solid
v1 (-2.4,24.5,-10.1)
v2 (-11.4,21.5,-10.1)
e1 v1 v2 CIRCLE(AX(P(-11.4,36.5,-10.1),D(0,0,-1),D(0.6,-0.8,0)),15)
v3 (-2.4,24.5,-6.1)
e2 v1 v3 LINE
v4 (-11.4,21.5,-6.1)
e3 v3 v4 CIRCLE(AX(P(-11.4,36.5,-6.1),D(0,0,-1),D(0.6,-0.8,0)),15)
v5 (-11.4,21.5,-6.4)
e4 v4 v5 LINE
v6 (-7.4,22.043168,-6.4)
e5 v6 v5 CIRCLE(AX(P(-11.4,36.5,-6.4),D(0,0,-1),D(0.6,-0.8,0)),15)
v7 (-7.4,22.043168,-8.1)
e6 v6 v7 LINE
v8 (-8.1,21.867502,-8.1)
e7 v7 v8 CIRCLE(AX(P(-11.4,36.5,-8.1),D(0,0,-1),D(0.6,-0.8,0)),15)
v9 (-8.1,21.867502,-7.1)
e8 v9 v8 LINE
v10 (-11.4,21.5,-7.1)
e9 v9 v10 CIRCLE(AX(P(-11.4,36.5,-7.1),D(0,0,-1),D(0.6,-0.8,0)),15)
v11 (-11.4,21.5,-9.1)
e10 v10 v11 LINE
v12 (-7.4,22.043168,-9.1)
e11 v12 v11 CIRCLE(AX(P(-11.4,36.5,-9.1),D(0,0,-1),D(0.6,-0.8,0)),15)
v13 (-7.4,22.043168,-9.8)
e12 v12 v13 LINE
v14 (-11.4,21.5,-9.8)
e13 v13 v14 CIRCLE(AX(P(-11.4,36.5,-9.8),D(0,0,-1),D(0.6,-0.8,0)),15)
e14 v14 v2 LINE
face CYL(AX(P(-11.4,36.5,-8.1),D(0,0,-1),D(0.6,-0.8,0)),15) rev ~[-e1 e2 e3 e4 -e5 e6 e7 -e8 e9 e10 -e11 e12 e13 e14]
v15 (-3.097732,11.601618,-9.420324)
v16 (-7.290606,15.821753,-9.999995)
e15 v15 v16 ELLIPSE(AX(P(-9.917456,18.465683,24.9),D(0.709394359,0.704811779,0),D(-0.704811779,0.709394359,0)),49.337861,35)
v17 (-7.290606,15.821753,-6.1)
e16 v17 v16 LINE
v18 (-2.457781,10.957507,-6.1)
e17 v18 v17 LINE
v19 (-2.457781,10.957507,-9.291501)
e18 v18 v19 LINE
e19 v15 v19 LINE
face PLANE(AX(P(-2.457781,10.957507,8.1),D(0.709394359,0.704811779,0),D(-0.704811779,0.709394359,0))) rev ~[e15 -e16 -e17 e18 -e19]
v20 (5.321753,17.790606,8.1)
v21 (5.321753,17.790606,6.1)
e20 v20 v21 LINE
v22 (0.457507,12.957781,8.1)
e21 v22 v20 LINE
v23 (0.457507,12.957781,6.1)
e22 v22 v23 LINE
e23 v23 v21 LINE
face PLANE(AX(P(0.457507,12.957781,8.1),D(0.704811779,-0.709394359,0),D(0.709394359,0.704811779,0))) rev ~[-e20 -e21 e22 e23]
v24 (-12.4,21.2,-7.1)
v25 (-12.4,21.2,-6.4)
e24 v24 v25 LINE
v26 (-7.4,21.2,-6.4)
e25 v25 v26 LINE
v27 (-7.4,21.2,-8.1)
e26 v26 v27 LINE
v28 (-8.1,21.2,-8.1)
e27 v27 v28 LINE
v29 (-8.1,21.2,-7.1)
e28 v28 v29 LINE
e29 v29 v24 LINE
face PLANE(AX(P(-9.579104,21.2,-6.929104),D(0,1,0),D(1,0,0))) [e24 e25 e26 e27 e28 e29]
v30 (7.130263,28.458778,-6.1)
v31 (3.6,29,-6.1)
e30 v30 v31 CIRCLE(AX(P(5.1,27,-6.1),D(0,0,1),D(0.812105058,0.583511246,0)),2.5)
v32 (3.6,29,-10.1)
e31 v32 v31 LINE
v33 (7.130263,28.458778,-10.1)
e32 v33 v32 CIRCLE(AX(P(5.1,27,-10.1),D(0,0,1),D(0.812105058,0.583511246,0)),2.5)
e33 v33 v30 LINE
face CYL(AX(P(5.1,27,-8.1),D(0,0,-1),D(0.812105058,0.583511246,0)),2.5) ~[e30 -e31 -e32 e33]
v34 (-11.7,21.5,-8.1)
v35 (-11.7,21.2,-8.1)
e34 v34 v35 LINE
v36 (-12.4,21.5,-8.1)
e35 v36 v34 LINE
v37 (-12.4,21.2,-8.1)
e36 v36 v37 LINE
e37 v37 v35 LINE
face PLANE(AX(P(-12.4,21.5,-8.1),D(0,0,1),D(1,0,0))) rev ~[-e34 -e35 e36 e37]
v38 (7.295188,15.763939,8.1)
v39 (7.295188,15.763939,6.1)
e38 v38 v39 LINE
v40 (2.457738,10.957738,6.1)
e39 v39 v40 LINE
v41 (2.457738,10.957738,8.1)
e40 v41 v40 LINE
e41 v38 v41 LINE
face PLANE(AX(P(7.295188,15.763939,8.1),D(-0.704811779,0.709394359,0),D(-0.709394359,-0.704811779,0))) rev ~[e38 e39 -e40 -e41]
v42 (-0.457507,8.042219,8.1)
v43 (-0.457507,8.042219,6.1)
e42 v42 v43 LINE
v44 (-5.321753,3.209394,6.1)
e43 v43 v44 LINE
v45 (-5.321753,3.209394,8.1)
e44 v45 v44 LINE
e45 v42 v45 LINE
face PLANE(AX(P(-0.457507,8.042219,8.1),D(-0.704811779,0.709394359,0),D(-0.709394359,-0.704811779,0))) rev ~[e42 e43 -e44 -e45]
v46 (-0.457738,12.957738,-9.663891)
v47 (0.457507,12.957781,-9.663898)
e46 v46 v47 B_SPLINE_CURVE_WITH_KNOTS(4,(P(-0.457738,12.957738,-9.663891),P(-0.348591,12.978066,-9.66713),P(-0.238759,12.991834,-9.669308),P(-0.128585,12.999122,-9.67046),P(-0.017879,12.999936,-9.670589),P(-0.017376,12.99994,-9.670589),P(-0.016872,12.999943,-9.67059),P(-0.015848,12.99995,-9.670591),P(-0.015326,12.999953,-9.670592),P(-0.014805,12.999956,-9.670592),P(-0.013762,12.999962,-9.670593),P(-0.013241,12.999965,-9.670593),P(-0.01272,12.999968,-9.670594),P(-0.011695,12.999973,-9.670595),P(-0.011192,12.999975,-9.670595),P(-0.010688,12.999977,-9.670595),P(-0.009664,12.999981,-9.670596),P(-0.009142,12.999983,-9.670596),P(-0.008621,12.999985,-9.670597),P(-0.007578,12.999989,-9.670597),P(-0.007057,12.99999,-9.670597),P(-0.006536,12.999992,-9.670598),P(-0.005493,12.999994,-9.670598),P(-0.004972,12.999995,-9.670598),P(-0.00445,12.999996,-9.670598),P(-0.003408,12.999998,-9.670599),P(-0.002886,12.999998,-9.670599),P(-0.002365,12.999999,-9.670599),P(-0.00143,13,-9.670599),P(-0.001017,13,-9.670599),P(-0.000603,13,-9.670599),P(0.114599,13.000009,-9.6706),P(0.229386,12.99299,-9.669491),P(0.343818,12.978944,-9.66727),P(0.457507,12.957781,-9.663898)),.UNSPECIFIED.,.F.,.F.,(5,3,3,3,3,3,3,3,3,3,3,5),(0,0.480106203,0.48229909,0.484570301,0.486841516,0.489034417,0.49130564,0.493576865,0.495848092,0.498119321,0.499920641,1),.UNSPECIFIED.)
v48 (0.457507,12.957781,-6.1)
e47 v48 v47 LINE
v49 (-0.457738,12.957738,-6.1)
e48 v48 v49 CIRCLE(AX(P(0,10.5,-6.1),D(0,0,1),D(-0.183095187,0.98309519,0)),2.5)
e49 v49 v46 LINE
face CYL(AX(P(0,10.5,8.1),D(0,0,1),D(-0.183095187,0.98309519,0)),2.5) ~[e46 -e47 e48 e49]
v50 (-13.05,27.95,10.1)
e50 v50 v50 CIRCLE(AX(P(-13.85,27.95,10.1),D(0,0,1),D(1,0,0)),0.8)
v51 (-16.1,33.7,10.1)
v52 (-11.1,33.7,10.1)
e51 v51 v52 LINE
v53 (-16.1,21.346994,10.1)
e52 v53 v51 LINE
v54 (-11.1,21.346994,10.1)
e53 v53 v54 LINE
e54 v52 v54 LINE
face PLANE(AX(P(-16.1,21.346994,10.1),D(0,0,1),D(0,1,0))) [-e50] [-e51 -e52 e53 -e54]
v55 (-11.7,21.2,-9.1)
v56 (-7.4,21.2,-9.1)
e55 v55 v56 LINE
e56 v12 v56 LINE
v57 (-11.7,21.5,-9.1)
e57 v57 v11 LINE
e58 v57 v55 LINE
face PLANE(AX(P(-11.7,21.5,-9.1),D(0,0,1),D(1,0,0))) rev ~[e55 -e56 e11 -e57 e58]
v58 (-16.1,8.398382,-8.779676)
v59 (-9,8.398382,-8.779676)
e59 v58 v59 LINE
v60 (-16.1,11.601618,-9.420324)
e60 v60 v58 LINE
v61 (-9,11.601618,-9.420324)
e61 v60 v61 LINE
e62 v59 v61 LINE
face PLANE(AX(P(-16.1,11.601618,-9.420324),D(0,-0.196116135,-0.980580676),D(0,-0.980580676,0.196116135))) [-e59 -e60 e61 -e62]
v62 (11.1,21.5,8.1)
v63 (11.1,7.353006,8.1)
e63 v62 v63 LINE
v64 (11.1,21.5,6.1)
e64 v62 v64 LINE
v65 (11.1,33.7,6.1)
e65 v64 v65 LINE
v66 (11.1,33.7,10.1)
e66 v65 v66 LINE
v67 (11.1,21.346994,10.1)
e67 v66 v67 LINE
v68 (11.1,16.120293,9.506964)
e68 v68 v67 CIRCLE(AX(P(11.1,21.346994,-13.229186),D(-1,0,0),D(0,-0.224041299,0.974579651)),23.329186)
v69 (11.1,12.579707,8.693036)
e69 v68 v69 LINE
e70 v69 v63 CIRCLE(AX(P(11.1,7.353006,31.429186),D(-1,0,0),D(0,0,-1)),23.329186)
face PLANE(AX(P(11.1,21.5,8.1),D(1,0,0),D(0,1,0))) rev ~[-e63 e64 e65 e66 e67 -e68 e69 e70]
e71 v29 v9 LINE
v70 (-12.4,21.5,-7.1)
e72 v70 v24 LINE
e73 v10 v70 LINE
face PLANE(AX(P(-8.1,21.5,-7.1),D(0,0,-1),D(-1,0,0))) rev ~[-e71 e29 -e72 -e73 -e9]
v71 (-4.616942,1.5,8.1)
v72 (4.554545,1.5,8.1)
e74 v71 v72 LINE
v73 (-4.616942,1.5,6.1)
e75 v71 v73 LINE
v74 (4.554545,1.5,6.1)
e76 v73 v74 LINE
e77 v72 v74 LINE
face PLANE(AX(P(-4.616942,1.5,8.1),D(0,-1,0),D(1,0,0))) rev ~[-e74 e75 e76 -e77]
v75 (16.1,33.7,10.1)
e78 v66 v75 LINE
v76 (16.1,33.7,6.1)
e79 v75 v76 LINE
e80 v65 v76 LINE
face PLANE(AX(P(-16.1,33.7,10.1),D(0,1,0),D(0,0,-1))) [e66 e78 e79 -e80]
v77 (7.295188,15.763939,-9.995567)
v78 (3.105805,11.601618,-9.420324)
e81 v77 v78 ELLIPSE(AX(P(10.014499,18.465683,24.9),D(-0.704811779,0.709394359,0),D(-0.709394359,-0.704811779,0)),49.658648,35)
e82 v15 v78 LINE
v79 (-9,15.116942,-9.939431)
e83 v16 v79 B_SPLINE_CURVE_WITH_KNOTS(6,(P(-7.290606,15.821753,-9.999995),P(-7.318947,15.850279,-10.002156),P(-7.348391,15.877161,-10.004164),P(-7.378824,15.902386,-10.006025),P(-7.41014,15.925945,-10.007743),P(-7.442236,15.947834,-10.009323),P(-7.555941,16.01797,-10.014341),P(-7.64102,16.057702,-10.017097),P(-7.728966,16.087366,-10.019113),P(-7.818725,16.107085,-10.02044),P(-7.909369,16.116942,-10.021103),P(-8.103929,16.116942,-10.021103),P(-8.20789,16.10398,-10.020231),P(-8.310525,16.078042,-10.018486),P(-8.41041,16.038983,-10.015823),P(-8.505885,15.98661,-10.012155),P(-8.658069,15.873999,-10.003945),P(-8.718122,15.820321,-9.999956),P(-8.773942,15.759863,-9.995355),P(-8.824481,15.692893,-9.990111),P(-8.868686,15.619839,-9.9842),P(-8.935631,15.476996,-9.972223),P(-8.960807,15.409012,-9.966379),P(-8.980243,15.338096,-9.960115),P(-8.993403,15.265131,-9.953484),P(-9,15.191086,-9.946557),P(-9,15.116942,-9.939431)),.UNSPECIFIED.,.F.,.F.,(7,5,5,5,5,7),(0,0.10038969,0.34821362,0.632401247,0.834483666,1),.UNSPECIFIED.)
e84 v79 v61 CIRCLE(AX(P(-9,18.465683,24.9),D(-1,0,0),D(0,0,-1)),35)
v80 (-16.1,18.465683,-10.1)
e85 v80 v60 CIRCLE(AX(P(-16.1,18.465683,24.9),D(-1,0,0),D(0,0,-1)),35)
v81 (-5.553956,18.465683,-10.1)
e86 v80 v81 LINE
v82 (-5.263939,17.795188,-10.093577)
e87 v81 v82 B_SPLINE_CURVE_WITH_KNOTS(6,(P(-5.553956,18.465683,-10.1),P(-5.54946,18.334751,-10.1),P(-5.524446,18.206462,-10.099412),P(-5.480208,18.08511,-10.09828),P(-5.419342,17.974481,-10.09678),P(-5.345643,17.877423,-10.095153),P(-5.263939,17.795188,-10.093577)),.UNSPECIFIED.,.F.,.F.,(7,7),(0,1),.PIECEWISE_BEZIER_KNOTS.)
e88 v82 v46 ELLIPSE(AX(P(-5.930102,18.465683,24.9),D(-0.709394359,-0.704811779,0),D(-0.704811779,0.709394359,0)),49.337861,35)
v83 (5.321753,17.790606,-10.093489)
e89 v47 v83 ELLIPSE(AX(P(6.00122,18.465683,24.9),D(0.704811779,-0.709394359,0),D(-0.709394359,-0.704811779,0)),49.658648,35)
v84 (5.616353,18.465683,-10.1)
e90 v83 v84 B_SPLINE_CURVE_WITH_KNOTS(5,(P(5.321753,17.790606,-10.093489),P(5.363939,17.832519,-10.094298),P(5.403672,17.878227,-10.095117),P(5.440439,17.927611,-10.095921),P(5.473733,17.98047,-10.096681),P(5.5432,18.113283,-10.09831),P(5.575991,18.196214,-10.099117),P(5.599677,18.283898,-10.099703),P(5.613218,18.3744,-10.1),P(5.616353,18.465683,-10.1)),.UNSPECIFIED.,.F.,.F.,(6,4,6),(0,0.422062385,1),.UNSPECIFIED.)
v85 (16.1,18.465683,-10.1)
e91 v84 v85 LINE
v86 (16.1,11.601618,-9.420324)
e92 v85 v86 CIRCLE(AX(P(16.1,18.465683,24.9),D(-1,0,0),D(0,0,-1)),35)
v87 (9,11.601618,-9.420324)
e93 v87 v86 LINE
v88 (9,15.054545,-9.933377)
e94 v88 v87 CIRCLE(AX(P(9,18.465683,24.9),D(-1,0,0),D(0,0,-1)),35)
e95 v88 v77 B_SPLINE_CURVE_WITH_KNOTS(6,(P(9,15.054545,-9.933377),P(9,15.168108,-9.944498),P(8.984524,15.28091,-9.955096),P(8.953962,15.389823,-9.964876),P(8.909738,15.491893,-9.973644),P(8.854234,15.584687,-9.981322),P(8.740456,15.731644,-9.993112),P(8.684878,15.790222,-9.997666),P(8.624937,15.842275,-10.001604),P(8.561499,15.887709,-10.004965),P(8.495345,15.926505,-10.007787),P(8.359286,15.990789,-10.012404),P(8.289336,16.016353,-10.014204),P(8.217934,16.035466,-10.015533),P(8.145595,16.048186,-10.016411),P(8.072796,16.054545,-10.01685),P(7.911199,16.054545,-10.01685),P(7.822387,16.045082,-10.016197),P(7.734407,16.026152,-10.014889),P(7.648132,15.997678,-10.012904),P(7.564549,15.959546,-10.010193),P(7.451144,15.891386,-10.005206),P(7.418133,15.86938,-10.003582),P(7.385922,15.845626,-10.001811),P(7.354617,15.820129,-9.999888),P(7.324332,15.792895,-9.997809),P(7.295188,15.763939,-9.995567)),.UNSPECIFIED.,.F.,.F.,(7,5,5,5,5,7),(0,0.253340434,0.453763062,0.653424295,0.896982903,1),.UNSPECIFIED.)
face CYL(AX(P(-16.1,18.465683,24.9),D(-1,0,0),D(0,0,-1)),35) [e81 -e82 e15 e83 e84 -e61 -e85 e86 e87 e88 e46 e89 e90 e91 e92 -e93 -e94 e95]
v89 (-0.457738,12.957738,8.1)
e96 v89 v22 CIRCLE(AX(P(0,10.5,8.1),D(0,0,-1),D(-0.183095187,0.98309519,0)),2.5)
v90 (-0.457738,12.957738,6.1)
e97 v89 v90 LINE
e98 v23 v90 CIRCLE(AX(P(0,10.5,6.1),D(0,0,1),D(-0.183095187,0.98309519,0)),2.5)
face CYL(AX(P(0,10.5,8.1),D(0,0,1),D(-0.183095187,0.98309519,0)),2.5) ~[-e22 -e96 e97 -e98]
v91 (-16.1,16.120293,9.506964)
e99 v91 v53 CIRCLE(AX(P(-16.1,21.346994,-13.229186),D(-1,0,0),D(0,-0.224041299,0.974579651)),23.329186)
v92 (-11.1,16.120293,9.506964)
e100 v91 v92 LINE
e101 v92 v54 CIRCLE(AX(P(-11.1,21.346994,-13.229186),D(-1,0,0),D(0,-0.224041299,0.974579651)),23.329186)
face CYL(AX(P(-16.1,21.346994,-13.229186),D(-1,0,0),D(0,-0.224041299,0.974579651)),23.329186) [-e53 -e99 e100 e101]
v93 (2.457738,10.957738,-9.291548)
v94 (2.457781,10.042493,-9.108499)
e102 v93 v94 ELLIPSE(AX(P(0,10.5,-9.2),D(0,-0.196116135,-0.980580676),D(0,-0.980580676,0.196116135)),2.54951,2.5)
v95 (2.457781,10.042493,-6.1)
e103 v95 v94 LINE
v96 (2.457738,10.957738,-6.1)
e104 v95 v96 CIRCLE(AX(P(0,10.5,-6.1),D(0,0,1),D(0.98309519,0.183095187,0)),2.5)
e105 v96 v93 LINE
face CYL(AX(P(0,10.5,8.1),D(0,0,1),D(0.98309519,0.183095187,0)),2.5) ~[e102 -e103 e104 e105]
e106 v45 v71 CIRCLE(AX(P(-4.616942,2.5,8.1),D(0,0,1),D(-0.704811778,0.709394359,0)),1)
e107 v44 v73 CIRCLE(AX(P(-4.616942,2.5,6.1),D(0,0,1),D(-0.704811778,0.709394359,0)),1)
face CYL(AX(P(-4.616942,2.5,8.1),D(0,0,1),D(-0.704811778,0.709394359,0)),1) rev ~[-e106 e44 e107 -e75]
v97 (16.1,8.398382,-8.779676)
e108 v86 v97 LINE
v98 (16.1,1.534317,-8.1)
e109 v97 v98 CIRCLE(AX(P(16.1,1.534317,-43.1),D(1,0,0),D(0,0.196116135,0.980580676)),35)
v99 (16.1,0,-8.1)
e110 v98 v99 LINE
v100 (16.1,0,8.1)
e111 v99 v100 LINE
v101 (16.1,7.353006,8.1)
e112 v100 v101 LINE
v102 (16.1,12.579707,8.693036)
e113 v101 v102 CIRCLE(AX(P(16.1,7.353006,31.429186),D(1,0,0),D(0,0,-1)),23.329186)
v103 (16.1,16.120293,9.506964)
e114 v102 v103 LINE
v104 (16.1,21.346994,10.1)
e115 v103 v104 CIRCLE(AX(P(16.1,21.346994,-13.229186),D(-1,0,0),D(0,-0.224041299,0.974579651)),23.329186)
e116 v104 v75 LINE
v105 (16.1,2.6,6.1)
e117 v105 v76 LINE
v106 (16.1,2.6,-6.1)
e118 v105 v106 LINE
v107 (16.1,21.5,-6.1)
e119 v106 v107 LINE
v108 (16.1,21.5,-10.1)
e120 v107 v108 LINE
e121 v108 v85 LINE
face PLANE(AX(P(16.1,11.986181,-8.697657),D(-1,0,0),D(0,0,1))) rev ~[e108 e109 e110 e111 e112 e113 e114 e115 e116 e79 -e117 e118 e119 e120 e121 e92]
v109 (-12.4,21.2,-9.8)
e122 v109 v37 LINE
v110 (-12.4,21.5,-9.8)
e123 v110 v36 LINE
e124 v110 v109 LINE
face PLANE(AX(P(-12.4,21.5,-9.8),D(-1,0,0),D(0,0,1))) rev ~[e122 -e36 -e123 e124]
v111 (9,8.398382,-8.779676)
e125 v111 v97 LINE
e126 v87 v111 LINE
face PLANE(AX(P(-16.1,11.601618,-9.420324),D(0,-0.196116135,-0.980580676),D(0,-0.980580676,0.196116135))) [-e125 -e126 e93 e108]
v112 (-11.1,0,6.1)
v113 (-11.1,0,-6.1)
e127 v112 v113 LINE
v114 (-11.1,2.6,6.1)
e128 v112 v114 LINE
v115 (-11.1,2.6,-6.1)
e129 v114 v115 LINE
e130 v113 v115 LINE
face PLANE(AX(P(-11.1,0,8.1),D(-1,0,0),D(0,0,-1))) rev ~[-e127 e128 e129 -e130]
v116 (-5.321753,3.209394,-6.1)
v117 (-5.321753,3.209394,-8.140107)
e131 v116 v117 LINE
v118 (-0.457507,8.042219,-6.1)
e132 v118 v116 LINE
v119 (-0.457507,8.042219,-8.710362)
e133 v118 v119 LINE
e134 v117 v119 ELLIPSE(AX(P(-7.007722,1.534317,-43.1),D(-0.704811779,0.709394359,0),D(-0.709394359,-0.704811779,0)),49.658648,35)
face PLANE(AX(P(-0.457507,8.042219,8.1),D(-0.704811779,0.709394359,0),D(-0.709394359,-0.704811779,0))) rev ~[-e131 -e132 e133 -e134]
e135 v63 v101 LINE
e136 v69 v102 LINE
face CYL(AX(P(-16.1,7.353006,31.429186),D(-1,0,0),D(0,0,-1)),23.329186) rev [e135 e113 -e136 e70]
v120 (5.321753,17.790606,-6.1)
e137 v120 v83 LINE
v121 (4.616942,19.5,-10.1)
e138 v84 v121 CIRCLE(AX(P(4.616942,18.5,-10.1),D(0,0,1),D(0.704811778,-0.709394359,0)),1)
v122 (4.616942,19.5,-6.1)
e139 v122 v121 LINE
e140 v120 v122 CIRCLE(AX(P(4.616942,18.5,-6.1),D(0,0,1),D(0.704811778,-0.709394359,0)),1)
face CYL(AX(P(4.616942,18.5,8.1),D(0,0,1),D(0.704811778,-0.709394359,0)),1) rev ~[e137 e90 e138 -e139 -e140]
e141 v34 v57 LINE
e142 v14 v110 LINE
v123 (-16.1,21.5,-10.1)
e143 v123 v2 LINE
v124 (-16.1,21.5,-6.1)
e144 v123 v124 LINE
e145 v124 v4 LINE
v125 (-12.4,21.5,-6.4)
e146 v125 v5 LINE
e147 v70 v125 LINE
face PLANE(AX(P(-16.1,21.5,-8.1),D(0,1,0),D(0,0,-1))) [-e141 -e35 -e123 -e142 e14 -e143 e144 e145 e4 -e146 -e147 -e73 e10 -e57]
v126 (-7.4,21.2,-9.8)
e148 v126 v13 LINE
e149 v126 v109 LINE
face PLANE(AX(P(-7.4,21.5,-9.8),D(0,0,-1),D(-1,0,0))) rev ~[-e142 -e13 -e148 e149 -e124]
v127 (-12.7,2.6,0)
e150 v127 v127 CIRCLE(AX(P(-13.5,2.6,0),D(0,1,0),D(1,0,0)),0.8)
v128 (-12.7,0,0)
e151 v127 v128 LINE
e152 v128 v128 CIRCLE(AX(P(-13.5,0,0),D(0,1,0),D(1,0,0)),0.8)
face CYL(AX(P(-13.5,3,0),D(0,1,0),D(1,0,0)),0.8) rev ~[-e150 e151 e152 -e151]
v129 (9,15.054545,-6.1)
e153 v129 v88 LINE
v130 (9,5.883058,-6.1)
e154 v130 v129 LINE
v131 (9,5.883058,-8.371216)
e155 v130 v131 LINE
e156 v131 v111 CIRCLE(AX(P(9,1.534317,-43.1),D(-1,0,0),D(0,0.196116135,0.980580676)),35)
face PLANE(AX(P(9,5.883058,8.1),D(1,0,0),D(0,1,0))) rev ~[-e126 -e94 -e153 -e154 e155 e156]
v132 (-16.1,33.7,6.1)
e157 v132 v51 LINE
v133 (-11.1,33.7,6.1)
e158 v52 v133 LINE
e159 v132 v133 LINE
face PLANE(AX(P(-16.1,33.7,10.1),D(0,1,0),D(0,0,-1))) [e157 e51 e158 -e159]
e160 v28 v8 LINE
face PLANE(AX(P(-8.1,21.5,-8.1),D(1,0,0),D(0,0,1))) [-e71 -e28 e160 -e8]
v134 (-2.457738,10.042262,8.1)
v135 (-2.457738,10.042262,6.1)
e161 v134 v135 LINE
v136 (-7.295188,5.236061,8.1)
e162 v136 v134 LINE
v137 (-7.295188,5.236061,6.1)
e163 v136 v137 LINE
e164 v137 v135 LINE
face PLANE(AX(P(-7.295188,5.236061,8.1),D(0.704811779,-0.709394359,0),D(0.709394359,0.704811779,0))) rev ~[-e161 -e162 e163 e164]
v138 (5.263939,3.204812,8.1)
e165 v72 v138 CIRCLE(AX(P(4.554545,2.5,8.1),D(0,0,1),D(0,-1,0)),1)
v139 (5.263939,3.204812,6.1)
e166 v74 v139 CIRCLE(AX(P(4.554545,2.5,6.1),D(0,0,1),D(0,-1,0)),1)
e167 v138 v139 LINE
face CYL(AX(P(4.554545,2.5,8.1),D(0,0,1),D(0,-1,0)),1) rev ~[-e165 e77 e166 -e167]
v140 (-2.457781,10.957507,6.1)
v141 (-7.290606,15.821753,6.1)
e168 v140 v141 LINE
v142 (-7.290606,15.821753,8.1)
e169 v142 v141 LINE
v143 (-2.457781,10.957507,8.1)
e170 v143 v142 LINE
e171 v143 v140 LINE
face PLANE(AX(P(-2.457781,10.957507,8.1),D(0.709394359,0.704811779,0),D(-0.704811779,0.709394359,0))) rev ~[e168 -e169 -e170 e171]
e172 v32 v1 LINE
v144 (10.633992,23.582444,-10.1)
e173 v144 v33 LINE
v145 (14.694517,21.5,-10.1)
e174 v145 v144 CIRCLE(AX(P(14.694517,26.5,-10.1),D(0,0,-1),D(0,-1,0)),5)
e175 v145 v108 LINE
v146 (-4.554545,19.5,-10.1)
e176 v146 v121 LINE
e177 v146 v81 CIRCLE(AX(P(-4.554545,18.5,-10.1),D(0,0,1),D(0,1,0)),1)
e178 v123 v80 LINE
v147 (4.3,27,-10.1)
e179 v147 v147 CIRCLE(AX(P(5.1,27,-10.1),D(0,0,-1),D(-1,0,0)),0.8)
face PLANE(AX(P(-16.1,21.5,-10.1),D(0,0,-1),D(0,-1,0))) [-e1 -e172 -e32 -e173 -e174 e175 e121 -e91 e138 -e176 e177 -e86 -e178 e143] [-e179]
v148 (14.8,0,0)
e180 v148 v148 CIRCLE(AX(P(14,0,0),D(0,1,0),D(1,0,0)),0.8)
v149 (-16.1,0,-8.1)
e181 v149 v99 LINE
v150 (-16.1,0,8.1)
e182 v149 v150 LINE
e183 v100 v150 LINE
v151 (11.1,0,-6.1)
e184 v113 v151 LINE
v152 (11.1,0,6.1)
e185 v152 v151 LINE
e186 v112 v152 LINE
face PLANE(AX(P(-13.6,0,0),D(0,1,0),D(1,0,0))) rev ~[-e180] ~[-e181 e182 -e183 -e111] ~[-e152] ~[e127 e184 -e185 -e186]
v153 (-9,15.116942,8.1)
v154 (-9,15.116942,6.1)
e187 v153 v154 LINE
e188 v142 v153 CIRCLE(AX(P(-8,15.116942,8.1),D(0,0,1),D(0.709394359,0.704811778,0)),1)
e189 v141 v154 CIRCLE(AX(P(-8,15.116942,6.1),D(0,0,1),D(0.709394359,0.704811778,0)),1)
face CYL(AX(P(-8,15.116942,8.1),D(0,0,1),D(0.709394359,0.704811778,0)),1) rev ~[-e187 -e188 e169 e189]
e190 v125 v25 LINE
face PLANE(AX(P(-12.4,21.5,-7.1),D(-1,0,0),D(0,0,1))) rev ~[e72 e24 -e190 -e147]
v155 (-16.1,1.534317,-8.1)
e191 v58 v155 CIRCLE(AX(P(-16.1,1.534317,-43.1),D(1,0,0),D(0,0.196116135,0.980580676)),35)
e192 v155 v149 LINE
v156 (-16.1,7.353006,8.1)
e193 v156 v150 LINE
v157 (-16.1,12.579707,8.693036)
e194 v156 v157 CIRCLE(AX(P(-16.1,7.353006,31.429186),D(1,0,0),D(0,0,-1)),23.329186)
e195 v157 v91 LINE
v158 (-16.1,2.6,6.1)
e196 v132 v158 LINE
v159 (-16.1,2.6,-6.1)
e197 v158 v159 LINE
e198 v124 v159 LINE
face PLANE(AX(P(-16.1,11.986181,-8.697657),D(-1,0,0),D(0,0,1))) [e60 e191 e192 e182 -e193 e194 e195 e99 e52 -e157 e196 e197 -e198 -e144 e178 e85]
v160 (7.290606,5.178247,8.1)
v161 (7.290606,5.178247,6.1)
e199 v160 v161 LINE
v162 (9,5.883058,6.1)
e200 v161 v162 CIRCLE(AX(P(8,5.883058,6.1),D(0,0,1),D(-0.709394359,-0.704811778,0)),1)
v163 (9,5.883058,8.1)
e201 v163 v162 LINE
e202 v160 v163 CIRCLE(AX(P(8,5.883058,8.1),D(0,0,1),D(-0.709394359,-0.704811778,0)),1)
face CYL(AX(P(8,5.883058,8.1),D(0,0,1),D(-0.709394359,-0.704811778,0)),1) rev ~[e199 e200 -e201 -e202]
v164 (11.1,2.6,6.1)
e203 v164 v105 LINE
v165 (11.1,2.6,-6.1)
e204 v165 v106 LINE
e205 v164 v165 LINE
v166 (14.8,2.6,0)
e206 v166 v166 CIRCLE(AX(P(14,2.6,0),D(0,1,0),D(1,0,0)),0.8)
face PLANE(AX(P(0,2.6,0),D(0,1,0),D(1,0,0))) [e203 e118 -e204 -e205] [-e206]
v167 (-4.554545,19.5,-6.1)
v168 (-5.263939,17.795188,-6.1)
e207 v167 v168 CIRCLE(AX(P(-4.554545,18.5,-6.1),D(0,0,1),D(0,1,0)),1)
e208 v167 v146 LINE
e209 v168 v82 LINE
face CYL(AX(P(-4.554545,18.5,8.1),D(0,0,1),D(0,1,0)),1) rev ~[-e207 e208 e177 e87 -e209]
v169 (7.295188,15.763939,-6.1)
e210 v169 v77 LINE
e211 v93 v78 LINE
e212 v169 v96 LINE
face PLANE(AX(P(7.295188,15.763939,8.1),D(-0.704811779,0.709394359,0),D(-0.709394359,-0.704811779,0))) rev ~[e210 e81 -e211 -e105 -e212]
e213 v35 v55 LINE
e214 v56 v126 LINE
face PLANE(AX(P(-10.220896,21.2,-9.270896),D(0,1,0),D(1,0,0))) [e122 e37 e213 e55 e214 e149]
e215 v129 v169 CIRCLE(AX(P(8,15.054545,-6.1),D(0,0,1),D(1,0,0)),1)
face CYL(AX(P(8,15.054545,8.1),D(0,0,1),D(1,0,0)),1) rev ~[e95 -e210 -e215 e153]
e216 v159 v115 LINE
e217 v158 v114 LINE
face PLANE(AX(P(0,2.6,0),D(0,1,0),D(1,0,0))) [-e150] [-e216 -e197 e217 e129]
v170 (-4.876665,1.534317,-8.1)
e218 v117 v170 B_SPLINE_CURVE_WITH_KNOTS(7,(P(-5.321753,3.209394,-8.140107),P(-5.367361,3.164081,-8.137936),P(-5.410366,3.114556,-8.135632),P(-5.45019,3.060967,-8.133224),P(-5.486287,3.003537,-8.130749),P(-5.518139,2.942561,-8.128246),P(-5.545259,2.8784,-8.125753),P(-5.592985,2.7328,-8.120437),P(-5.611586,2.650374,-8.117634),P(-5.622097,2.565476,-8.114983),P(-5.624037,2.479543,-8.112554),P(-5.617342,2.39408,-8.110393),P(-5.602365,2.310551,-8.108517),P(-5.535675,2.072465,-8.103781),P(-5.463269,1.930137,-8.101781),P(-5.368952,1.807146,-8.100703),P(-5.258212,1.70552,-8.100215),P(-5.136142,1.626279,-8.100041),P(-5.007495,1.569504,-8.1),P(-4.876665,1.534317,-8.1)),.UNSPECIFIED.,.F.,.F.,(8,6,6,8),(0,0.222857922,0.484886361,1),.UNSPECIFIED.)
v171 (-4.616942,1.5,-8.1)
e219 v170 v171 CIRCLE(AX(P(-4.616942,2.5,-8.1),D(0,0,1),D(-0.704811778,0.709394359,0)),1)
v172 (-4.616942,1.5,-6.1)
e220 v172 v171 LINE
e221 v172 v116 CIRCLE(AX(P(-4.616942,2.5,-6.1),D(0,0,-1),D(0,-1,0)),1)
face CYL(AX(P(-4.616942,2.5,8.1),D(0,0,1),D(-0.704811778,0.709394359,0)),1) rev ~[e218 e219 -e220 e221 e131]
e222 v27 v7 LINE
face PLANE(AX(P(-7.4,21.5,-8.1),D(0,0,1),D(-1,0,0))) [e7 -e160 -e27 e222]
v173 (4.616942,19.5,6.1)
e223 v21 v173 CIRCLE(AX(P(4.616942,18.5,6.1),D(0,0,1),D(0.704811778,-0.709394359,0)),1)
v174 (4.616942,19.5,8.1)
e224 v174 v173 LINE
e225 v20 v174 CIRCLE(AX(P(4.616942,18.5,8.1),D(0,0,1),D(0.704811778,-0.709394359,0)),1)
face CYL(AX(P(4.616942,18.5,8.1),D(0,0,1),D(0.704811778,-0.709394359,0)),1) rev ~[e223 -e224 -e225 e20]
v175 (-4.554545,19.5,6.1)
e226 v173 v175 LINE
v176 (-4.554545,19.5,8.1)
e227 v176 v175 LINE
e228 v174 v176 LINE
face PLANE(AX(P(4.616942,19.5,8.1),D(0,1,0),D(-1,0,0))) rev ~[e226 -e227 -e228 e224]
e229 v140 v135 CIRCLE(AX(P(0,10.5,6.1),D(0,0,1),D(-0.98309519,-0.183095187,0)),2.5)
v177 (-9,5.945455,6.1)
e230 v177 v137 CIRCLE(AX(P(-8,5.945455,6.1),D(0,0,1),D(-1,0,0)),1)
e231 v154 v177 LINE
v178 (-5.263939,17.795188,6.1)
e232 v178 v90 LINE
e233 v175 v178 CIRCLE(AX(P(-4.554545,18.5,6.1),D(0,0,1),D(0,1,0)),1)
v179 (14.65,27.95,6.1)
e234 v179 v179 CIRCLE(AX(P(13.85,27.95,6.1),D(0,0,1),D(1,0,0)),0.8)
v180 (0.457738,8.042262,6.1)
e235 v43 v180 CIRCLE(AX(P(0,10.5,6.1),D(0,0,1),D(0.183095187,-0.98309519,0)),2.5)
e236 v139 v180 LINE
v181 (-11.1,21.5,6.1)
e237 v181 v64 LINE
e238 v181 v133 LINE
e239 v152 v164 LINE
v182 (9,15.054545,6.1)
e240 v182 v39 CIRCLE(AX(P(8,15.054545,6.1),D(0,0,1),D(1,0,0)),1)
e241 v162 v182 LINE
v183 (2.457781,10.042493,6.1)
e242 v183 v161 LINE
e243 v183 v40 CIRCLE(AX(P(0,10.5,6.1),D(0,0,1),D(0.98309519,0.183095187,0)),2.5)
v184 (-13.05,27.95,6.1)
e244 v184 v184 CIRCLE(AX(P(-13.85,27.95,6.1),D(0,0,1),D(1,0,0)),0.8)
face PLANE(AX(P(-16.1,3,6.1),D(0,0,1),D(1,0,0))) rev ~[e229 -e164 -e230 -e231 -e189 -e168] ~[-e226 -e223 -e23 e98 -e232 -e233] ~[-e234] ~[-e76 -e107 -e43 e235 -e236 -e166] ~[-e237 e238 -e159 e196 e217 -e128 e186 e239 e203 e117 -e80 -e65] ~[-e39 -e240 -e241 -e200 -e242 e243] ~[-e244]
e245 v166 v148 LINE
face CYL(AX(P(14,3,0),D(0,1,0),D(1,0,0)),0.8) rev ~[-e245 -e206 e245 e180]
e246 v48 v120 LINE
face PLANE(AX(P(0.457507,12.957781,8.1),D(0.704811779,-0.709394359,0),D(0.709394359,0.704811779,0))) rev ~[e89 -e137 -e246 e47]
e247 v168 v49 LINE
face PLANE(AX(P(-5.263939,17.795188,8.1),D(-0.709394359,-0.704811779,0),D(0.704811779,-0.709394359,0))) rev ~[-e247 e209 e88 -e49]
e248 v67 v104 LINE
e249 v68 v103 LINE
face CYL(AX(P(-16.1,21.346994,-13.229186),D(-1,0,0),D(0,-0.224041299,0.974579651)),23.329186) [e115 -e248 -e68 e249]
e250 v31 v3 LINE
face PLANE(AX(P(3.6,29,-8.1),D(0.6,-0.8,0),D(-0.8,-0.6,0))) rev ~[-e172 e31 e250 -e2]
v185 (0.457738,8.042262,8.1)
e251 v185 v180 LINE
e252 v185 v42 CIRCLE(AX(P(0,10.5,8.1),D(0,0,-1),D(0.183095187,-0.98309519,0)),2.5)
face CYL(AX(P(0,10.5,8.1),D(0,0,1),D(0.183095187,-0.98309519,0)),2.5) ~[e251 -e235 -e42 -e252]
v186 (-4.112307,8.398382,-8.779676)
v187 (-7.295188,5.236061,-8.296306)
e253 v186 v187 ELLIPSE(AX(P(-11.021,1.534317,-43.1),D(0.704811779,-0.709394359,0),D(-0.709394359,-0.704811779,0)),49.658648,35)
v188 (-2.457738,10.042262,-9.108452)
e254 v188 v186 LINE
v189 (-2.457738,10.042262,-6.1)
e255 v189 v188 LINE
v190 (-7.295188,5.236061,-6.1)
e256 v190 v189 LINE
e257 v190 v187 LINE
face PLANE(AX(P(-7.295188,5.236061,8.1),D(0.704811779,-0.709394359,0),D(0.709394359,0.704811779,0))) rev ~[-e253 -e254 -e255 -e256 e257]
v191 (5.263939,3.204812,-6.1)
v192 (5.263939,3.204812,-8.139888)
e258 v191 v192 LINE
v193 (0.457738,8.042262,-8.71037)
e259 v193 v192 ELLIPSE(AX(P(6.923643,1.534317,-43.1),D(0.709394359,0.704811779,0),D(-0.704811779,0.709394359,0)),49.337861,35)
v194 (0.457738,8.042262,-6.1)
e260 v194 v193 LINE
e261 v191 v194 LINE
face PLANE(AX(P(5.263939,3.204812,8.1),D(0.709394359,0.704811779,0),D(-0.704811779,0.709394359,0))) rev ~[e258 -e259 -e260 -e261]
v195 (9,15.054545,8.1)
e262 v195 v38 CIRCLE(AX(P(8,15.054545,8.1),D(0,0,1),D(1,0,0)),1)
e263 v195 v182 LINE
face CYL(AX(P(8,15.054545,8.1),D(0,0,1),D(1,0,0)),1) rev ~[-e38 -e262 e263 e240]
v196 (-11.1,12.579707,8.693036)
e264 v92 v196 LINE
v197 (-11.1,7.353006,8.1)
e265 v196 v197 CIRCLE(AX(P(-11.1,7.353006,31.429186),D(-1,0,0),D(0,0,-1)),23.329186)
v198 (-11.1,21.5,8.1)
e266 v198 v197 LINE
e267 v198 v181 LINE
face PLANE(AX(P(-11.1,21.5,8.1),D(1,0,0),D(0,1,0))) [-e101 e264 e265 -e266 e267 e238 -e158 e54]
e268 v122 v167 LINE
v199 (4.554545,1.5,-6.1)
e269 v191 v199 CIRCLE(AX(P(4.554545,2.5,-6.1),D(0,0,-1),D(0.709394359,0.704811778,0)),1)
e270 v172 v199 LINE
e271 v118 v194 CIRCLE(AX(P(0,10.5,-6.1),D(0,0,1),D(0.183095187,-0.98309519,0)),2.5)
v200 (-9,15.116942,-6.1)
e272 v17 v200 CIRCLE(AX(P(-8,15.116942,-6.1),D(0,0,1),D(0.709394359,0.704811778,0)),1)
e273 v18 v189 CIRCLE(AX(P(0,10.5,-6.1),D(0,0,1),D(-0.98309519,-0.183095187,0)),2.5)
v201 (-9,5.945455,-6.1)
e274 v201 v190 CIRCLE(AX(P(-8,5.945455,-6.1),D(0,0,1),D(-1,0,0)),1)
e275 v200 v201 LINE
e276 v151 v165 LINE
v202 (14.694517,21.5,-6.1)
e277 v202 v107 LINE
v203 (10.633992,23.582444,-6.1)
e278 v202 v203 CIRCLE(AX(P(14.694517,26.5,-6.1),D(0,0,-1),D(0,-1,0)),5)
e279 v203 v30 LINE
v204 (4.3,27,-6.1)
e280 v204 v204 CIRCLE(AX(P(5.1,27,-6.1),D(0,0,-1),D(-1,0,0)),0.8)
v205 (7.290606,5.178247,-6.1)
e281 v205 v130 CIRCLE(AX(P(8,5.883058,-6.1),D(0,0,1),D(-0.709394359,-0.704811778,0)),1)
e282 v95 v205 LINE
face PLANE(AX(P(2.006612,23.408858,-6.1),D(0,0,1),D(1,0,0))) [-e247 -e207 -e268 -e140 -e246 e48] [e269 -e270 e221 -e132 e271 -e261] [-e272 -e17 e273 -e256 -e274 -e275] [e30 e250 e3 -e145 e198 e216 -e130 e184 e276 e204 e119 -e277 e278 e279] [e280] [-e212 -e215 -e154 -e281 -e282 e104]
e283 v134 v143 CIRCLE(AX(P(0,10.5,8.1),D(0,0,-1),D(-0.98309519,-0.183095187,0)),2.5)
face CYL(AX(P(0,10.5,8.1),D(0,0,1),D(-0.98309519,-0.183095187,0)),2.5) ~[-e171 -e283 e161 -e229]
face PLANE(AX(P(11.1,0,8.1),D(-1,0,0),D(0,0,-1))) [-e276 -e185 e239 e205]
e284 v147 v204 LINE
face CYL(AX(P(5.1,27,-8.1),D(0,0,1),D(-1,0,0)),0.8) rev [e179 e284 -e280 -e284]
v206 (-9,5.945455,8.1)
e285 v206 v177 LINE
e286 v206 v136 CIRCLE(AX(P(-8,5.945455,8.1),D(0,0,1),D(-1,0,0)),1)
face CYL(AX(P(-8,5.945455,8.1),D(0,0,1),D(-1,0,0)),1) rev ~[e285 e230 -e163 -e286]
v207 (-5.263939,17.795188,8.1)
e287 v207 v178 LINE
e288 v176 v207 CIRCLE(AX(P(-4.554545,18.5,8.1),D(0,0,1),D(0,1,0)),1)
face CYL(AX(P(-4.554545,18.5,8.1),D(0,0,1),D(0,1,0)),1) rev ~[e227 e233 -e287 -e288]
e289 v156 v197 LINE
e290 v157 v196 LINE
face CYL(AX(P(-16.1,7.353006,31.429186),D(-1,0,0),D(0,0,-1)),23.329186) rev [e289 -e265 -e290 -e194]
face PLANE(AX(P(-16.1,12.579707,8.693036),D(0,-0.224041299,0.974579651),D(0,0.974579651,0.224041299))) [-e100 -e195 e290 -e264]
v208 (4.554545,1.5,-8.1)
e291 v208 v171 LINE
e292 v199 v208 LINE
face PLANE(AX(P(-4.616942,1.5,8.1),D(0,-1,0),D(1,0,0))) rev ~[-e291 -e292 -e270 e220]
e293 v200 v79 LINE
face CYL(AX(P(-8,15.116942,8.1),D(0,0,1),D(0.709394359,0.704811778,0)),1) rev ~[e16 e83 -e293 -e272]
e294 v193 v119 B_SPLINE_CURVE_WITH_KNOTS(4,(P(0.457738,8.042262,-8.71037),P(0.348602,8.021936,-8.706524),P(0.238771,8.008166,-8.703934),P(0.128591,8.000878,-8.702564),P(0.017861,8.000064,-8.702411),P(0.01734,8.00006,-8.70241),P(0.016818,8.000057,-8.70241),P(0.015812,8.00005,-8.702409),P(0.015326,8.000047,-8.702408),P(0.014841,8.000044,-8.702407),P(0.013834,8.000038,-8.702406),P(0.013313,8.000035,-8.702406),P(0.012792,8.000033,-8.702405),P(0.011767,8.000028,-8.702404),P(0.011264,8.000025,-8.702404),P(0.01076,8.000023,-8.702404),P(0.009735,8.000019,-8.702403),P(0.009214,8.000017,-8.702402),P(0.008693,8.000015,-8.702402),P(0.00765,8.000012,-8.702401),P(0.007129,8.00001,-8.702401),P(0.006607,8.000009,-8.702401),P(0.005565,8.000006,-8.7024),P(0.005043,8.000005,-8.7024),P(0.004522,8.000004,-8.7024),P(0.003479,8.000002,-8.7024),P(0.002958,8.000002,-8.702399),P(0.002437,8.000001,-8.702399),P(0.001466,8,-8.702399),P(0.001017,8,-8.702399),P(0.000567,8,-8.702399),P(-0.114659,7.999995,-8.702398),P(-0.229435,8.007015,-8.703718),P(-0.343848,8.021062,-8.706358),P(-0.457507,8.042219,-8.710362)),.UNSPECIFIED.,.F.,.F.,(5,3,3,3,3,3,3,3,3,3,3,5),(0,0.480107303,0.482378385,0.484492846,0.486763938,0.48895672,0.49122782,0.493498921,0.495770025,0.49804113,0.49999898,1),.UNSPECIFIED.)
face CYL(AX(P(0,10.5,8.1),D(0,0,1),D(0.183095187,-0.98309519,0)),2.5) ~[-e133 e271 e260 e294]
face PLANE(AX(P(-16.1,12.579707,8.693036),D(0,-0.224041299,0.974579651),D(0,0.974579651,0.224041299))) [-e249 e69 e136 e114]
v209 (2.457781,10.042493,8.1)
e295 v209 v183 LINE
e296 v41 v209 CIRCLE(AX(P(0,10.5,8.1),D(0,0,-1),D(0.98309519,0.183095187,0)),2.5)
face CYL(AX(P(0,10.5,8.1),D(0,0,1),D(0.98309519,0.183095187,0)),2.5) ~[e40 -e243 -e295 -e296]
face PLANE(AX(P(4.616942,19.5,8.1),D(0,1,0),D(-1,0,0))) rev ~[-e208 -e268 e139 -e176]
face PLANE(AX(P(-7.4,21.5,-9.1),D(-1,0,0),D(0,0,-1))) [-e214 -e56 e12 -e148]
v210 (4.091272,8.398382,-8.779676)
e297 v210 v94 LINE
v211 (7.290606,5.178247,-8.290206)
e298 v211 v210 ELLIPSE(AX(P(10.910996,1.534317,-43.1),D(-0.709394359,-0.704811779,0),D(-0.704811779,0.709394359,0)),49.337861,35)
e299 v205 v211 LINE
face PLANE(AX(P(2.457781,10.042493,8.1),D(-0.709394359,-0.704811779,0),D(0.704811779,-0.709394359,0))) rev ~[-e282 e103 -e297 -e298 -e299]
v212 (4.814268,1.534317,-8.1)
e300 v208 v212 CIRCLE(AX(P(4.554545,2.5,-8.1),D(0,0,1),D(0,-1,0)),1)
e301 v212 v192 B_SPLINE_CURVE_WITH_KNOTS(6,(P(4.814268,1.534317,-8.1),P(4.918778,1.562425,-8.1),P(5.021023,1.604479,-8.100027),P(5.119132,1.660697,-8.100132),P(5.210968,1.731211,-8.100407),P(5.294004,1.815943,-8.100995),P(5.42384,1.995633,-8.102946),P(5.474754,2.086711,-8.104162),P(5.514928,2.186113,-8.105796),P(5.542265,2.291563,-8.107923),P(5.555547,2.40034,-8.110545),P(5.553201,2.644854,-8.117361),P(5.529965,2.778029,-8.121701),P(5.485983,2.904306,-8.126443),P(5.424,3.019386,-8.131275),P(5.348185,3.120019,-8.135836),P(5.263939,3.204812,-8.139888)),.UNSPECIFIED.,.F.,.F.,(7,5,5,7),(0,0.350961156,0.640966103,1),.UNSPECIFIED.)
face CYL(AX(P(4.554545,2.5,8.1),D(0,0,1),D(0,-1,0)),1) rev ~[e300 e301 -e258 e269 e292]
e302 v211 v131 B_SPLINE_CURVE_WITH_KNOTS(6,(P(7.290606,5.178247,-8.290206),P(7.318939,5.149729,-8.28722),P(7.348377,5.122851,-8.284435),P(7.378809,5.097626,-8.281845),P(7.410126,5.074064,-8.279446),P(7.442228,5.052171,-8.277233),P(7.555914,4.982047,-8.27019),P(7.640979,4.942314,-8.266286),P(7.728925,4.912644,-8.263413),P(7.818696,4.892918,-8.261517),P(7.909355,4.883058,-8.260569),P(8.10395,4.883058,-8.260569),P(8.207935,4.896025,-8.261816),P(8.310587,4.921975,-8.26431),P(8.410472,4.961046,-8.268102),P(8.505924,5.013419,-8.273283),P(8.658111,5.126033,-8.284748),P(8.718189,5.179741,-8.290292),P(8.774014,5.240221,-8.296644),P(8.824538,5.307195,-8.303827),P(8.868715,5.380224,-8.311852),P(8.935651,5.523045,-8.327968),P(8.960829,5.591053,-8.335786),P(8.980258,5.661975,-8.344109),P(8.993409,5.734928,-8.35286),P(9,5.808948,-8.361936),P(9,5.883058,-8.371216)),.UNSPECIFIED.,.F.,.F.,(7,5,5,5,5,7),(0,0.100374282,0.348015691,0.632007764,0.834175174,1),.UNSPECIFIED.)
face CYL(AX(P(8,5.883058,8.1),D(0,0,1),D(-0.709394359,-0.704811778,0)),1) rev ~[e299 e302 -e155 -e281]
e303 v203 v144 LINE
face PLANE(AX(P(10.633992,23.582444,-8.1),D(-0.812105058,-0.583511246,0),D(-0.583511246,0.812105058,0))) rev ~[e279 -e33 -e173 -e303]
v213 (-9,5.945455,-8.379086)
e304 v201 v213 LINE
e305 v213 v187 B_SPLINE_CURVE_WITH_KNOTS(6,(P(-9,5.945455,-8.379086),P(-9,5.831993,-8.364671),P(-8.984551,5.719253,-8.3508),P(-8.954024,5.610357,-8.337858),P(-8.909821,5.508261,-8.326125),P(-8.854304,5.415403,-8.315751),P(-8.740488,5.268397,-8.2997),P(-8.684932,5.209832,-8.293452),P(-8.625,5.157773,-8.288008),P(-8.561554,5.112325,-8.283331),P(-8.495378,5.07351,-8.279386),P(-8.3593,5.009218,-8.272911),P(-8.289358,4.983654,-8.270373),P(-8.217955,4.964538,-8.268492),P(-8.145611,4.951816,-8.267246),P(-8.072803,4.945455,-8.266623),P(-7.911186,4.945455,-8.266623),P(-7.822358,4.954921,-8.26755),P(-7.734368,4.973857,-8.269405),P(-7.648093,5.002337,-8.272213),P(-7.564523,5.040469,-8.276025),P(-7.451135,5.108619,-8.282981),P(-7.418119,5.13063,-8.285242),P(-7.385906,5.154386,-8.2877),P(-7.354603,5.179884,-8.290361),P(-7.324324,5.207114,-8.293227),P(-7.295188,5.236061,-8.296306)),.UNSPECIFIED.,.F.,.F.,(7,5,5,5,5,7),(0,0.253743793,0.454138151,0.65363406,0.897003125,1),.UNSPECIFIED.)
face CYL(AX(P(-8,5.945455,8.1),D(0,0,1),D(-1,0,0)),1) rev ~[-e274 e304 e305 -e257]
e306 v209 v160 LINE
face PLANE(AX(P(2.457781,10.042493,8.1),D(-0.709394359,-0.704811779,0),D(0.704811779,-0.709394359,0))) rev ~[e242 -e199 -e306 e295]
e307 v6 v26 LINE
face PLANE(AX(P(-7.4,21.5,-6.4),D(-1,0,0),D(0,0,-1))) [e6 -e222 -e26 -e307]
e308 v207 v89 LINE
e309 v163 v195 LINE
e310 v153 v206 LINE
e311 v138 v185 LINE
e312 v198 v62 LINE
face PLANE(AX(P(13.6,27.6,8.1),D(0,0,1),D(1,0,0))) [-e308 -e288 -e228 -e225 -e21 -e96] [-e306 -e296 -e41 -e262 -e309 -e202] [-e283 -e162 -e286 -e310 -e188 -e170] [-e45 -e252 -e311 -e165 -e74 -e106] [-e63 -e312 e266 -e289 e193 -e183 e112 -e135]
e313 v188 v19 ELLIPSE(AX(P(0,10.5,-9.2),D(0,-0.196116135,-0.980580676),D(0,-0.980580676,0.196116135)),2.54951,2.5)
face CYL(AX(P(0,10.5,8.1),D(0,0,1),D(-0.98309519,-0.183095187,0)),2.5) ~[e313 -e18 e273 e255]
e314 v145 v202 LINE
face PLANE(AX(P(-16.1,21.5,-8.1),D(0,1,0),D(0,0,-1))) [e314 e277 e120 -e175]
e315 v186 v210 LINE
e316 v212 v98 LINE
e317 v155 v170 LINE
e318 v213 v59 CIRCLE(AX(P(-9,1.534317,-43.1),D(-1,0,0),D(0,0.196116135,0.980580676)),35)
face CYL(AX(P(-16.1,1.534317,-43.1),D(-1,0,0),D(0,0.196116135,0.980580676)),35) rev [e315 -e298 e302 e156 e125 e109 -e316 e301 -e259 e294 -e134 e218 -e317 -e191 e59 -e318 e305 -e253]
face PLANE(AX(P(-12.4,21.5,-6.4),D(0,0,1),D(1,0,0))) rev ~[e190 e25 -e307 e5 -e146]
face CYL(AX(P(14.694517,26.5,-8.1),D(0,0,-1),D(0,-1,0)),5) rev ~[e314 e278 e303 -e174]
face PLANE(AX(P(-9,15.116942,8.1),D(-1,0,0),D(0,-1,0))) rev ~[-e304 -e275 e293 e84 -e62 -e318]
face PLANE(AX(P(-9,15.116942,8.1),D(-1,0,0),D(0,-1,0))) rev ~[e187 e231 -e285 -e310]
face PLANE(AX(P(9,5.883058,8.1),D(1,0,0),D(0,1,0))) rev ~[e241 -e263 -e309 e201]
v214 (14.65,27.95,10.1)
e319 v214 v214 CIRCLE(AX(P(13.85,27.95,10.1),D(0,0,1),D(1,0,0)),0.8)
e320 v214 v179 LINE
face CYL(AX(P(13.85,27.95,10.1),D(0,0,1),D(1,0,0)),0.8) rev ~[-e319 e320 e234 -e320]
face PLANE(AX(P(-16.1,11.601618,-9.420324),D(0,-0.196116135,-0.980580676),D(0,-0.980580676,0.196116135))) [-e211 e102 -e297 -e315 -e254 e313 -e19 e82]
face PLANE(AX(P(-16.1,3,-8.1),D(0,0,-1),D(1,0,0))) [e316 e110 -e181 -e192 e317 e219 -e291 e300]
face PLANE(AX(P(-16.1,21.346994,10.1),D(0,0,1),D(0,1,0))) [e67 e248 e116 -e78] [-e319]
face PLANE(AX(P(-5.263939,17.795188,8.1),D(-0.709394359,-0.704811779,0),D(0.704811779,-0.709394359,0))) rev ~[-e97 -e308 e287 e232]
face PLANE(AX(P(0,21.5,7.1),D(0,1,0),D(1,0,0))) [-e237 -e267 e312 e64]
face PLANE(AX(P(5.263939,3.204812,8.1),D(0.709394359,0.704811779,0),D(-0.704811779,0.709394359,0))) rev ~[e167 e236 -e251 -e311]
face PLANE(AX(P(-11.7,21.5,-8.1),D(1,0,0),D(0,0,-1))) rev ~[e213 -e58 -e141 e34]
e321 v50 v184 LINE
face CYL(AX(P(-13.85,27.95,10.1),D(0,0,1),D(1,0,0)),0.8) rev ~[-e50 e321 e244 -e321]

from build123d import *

# Parameters (mm, degrees)
CROQUIS1_W                        = 5
CROQUIS1_H                        = 16.2
SALIENTE_EXTRUIR1_DEPTH           = 3
SALIENTE_EXTRUIR1_2_DEPTH         = 3
CROQUIS2_R                        = 0.8
CORTAR_EXTRUIR2_DEPTH             = 3
CROQUIS4_W                        = 32.2
CROQUIS4_H                        = 2
SALIENTE_EXTRUIR2_DEPTH           = 18.5
SALIENTE_EXTRUIR2_DEPTH_BACK      = 3
CROQUIS5_W                        = 5
CROQUIS5_H                        = 12.2
SALIENTE_EXTRUIR3_DEPTH           = 2
SALIENTE_EXTRUIR4_DEPTH           = 32.2
CORTAR_EXTRUIR3_REACH             = 35.7
CROQUIS8_W                        = 22.2
CROQUIS8_H                        = 2
CORTAR_EXTRUIR3_DIRECTION_2_DEPTH = 1
CORTAR_EXTRUIR4_REACH             = 20.2
CROQUIS9_R                        = 0.8
CROQUIS10_R                       = 0.8
SALIENTE_EXTRUIR5_DEPTH           = 2
SALIENTE_EXTRUIR7_DEPTH           = 32.2
CORTAR_EXTRUIR5_DEPTH             = 19.2
CORTAR_EXTRUIR9_DEPTH             = 0.3
CORTAR_EXTRUIR9_DIRECTION_2_REACH = 14.2
CROQUIS21_W                       = 32.2
CROQUIS21_H                       = 12.2
CORTAR_EXTRUIR10_DEPTH            = 0.4


with BuildPart() as part:
    # Croquis1 → Saliente-Extruir1 (new body)
    with BuildSketch(Plane(origin=(0, 0, 0), x_dir=(1, 0, 0), z_dir=(0, 1, 0))):
        with Locations((-13.6, 0)):
            Rectangle(CROQUIS1_W, CROQUIS1_H)
    extrude(amount=SALIENTE_EXTRUIR1_DEPTH)


with BuildPart() as body_2:
    # Croquis1 → Saliente-Extruir1 2 (new body)
    with BuildSketch(Plane(origin=(0, 0, 0), x_dir=(1, 0, 0), z_dir=(0, 1, 0))):
        with Locations((13.6, 0)):
            Rectangle(CROQUIS1_W, CROQUIS1_H)
    extrude(amount=SALIENTE_EXTRUIR1_2_DEPTH)


with BuildPart() as cortar_extruir2_tool:
    # Croquis2 → Cortar-Extruir2 (new body)
    with BuildSketch(Plane(origin=(0, 3, 0), x_dir=(1, 0, 0), z_dir=(0, 1, 0))):
        with Locations((-13.5, 0)):
            Circle(CROQUIS2_R)
        with Locations((14, 0)):
            Circle(CROQUIS2_R)
    extrude(amount=-CORTAR_EXTRUIR2_DEPTH)


with BuildPart() as part_1:
    add(part.part)

    # Cortar-Extruir2: cut by cortar_extruir2_tool
    add(cortar_extruir2_tool.part, mode=Mode.SUBTRACT)



with BuildPart() as body_2_1:
    add(body_2.part)

    # Cortar-Extruir2: cut by cortar_extruir2_tool
    add(cortar_extruir2_tool.part, mode=Mode.SUBTRACT)


with BuildPart() as part_2:
    add(part_1.part)

    add(body_2_1.part)  # Saliente-Extruir2 merges body 2
    # Croquis4 → Saliente-Extruir2 (add, two sides)
    with BuildSketch(Plane(origin=(0, 3, 0), x_dir=(1, 0, 0), z_dir=(0, 1, 0))) as saliente_extruir2_sk:
        with Locations((0, 7.1)):
            Rectangle(CROQUIS4_W, CROQUIS4_H)
        with Locations((0, -7.1)):
            Rectangle(CROQUIS4_W, CROQUIS4_H)
    extrude(amount=SALIENTE_EXTRUIR2_DEPTH)
    extrude(saliente_extruir2_sk.sketch, amount=-SALIENTE_EXTRUIR2_DEPTH_BACK)

    # Croquis5 → Saliente-Extruir3 (add)
    with BuildSketch(Plane.XY.offset(8.1)):
        with Locations((13.6, 27.6)):
            Rectangle(CROQUIS5_W, CROQUIS5_H)
        with Locations((-13.6, 27.6)):
            Rectangle(CROQUIS5_W, CROQUIS5_H)
    extrude(amount=-SALIENTE_EXTRUIR3_DEPTH)

    # Croquis7 → Saliente-Extruir4 (add, through all)
    with BuildSketch(Plane.ZY.offset(16.1)):
        with BuildLine():
            Line((10.1, 33.7), (8.1, 33.7))
            Line((8.1, 33.7), (8.1, 7.353005636))
            ThreePointArc((8.1, 7.353005636), (8.248733131, 9.983124325), (8.693036056, 12.579706844))
            Line((8.693036056, 12.579706844), (9.506963944, 16.120293156))
            ThreePointArc((9.506963944, 16.120293156), (9.951266869, 18.716875675), (10.1, 21.346994364))
            Line((10.1, 21.346994364), (10.1, 33.7))
        make_face()
    extrude(amount=-SALIENTE_EXTRUIR4_DEPTH)

    # Croquis8 → Cortar-Extruir3 (cut, up to next)
    with BuildSketch(Plane(origin=(0, 33.7, 0), x_dir=(1, 0, 0), z_dir=(0, 1, 0)), mode=Mode.PRIVATE) as cortar_extruir3_sk1:
        with Locations((0, -9.1)):
            Rectangle(CROQUIS8_W, CROQUIS8_H)
    cortar_extruir3_tool1 = extrude(cortar_extruir3_sk1.sketch, amount=-CORTAR_EXTRUIR3_REACH, mode=Mode.PRIVATE) & part_2.part
    add(cortar_extruir3_tool1.solids().sort_by_distance((0, 33.7, 9.1))[0], mode=Mode.SUBTRACT)

    # Croquis8 → Cortar-Extruir3 direction 2 (cut)
    with BuildSketch(Plane(origin=(0, 33.7, 0), x_dir=(1, 0, 0), z_dir=(0, 1, 0))):
        with Locations((0, -9.1)):
            Rectangle(CROQUIS8_W, CROQUIS8_H)
    extrude(amount=CORTAR_EXTRUIR3_DIRECTION_2_DEPTH, mode=Mode.SUBTRACT)

    # Croquis9 → Cortar-Extruir4 (cut, up to next)
    with BuildSketch(Plane.XY.offset(10.1), mode=Mode.PRIVATE) as cortar_extruir4_sk1:
        with Locations((-13.85, 27.95)):
            Circle(CROQUIS9_R)
    cortar_extruir4_tool1 = extrude(cortar_extruir4_sk1.sketch, amount=-CORTAR_EXTRUIR4_REACH, mode=Mode.PRIVATE) & part_2.part
    add(cortar_extruir4_tool1.solids().sort_by_distance((-13.85, 27.95, 10.1))[0], mode=Mode.SUBTRACT)
    # Croquis9 → Cortar-Extruir4 (cut, up to next)
    with BuildSketch(Plane.XY.offset(10.1), mode=Mode.PRIVATE) as cortar_extruir4_sk2:
        with Locations((13.85, 27.95)):
            Circle(CROQUIS9_R)
    cortar_extruir4_tool2 = extrude(cortar_extruir4_sk2.sketch, amount=-CORTAR_EXTRUIR4_REACH, mode=Mode.PRIVATE) & part_2.part
    add(cortar_extruir4_tool2.solids().sort_by_distance((13.85, 27.95, 10.1))[0], mode=Mode.SUBTRACT)

    # Croquis10 → Saliente-Extruir5 (add, symmetric)
    with BuildSketch(Plane(origin=(0, 0, -8.1), x_dir=(-1, 0, 0), z_dir=(0, 0, -1))):
        with BuildLine():
            Line((-10.633991508, 23.582443769), (-7.130262645, 28.458778116))
            ThreePointArc((-7.130262645, 28.458778116), (-5.478846803, 29.471128305), (-3.6, 29))
            Line((-3.6, 29), (2.4, 24.5))
            ThreePointArc((2.4, 24.5), (6.65658351, 22.269750529), (11.4, 21.5))
            Line((11.4, 21.5), (-14.694516799, 21.5))
            ThreePointArc((-14.694516799, 21.5), (-12.412826763, 22.050967456), (-10.633991508, 23.582443769))
        make_face()
        with Locations((-5.1, 27)):
            Circle(CROQUIS10_R, mode=Mode.SUBTRACT)
    extrude(amount=SALIENTE_EXTRUIR5_DEPTH, both=True)

    # Croquis13 → Saliente-Extruir7 (add, through all)
    with BuildSketch(Plane.ZY.offset(16.1)):
        with BuildLine():
            Line((-8.1, 21.5), (-10.1, 21.5))
            Line((-10.1, 21.5), (-10.1, 18.465682976))
            ThreePointArc((-10.1, 18.465682976), (-9.929666433, 15.016866347), (-9.420323649, 11.601618246))
            Line((-9.420323649, 11.601618246), (-8.779676351, 8.398381754))
            ThreePointArc((-8.779676351, 8.398381754), (-8.270333567, 4.983133653), (-8.1, 1.534317024))
            Line((-8.1, 1.534317024), (-8.1, 21.5))
        make_face()
    extrude(amount=-SALIENTE_EXTRUIR7_DEPTH)

    # Croquis14 → Cortar-Extruir5 (cut, through all)
    with BuildSketch(Plane.XY.offset(8.1)):
        with BuildLine():
            Line((-9, 15.116941663), (-9, 5.945455337))
            ThreePointArc((-9, 5.945455337), (-8.38417979, 5.022197037), (-7.295188221, 5.236060978))
            Line((-7.295188221, 5.236060978), (-2.457737974, 10.042262026))
            ThreePointArc((-2.457737974, 10.042262026), (-2.499999997, 10.499882305), (-2.457781062, 10.95750656))
            Line((-2.457781062, 10.95750656), (-7.290605641, 15.821753441))
            ThreePointArc((-7.290605641, 15.821753441), (-8.381186071, 16.041440002), (-9, 15.116941663))
        make_face()
        with BuildLine():
            Line((-5.263939022, 17.795188221), (-0.457737974, 12.957737974))
            ThreePointArc((-0.457737974, 12.957737974), (-0.000117695, 12.999999997), (0.45750656, 12.957781062))
            Line((0.45750656, 12.957781062), (5.321753441, 17.790605641))
            ThreePointArc((5.321753441, 17.790605641), (5.541440002, 18.881186071), (4.616941663, 19.5))
            Line((4.616941663, 19.5), (-4.554544663, 19.5))
            ThreePointArc((-4.554544663, 19.5), (-5.477802963, 18.88417979), (-5.263939022, 17.795188221))
        make_face()
        with BuildLine():
            Line((7.295188221, 15.763939022), (2.457737974, 10.957737974))
            ThreePointArc((2.457737974, 10.957737974), (2.499999997, 10.500117695), (2.457781062, 10.04249344))
            Line((2.457781062, 10.04249344), (7.290605641, 5.178246559))
            ThreePointArc((7.290605641, 5.178246559), (8.381186071, 4.958559998), (9, 5.883058337))
            Line((9, 5.883058337), (9, 15.054544663))
            ThreePointArc((9, 15.054544663), (8.38417979, 15.977802963), (7.295188221, 15.763939022))
        make_face()
        with BuildLine():
            Line((5.263939022, 3.204811779), (0.457737974, 8.042262026))
            ThreePointArc((0.457737974, 8.042262026), (0.000117695, 8.000000003), (-0.45750656, 8.042218938))
            Line((-0.45750656, 8.042218938), (-5.321753441, 3.209394359))
            ThreePointArc((-5.321753441, 3.209394359), (-5.541440002, 2.118813929), (-4.616941663, 1.5))
            Line((-4.616941663, 1.5), (4.554544663, 1.5))
            ThreePointArc((4.554544663, 1.5), (5.477802963, 2.11582021), (5.263939022, 3.204811779))
        make_face()
    extrude(amount=-CORTAR_EXTRUIR5_DEPTH, mode=Mode.SUBTRACT)

    # Croquis20 → Cortar-Extruir9 (cut)
    with BuildSketch(Plane(origin=(0, 21.5, 0), x_dir=(1, 0, 0), z_dir=(0, 1, 0))):
        Polygon((-12.4, 6.4), (-7.4, 6.4), (-7.4, 8.1), (-8.1, 8.1), (-8.1, 7.1), (-12.4, 7.1), align=None)
        Polygon((-7.4, 9.1), (-7.4, 9.8), (-12.4, 9.8), (-12.4, 8.1), (-11.7, 8.1), (-11.7, 9.1), align=None)
    extrude(amount=-CORTAR_EXTRUIR9_DEPTH, mode=Mode.SUBTRACT)

    # Croquis20 → Cortar-Extruir9 direction 2 (cut, up to next)
    with BuildSketch(Plane(origin=(0, 21.5, 0), x_dir=(1, 0, 0), z_dir=(0, 1, 0)), mode=Mode.PRIVATE) as cortar_extruir9_direction_2_sk1:
        Polygon((-12.4, 6.4), (-7.4, 6.4), (-7.4, 8.1), (-8.1, 8.1), (-8.1, 7.1), (-12.4, 7.1), align=None)
    cortar_extruir9_direction_2_tool1 = extrude(cortar_extruir9_direction_2_sk1.sketch, amount=CORTAR_EXTRUIR9_DIRECTION_2_REACH, mode=Mode.PRIVATE) & part_2.part
    add(cortar_extruir9_direction_2_tool1.solids().sort_by_distance((-9.541667, 21.5, -6.891667))[0], mode=Mode.SUBTRACT)
    # Croquis20 → Cortar-Extruir9 direction 2 (cut, up to next)
    with BuildSketch(Plane(origin=(0, 21.5, 0), x_dir=(1, 0, 0), z_dir=(0, 1, 0)), mode=Mode.PRIVATE) as cortar_extruir9_direction_2_sk2:
        Polygon((-7.4, 9.1), (-7.4, 9.8), (-12.4, 9.8), (-12.4, 8.1), (-11.7, 8.1), (-11.7, 9.1), align=None)
    cortar_extruir9_direction_2_tool2 = extrude(cortar_extruir9_direction_2_sk2.sketch, amount=CORTAR_EXTRUIR9_DIRECTION_2_REACH, mode=Mode.PRIVATE) & part_2.part
    add(cortar_extruir9_direction_2_tool2.solids().sort_by_distance((-10.258333, 21.5, -9.308333))[0], mode=Mode.SUBTRACT)

    # Croquis21 → Cortar-Extruir10 (cut)
    with BuildSketch(Plane(origin=(0, 3, 0), x_dir=(1, 0, 0), z_dir=(0, 1, 0))):
        Rectangle(CROQUIS21_W, CROQUIS21_H)
    extrude(amount=-CORTAR_EXTRUIR10_DEPTH, mode=Mode.SUBTRACT)


solid = part_2.part
